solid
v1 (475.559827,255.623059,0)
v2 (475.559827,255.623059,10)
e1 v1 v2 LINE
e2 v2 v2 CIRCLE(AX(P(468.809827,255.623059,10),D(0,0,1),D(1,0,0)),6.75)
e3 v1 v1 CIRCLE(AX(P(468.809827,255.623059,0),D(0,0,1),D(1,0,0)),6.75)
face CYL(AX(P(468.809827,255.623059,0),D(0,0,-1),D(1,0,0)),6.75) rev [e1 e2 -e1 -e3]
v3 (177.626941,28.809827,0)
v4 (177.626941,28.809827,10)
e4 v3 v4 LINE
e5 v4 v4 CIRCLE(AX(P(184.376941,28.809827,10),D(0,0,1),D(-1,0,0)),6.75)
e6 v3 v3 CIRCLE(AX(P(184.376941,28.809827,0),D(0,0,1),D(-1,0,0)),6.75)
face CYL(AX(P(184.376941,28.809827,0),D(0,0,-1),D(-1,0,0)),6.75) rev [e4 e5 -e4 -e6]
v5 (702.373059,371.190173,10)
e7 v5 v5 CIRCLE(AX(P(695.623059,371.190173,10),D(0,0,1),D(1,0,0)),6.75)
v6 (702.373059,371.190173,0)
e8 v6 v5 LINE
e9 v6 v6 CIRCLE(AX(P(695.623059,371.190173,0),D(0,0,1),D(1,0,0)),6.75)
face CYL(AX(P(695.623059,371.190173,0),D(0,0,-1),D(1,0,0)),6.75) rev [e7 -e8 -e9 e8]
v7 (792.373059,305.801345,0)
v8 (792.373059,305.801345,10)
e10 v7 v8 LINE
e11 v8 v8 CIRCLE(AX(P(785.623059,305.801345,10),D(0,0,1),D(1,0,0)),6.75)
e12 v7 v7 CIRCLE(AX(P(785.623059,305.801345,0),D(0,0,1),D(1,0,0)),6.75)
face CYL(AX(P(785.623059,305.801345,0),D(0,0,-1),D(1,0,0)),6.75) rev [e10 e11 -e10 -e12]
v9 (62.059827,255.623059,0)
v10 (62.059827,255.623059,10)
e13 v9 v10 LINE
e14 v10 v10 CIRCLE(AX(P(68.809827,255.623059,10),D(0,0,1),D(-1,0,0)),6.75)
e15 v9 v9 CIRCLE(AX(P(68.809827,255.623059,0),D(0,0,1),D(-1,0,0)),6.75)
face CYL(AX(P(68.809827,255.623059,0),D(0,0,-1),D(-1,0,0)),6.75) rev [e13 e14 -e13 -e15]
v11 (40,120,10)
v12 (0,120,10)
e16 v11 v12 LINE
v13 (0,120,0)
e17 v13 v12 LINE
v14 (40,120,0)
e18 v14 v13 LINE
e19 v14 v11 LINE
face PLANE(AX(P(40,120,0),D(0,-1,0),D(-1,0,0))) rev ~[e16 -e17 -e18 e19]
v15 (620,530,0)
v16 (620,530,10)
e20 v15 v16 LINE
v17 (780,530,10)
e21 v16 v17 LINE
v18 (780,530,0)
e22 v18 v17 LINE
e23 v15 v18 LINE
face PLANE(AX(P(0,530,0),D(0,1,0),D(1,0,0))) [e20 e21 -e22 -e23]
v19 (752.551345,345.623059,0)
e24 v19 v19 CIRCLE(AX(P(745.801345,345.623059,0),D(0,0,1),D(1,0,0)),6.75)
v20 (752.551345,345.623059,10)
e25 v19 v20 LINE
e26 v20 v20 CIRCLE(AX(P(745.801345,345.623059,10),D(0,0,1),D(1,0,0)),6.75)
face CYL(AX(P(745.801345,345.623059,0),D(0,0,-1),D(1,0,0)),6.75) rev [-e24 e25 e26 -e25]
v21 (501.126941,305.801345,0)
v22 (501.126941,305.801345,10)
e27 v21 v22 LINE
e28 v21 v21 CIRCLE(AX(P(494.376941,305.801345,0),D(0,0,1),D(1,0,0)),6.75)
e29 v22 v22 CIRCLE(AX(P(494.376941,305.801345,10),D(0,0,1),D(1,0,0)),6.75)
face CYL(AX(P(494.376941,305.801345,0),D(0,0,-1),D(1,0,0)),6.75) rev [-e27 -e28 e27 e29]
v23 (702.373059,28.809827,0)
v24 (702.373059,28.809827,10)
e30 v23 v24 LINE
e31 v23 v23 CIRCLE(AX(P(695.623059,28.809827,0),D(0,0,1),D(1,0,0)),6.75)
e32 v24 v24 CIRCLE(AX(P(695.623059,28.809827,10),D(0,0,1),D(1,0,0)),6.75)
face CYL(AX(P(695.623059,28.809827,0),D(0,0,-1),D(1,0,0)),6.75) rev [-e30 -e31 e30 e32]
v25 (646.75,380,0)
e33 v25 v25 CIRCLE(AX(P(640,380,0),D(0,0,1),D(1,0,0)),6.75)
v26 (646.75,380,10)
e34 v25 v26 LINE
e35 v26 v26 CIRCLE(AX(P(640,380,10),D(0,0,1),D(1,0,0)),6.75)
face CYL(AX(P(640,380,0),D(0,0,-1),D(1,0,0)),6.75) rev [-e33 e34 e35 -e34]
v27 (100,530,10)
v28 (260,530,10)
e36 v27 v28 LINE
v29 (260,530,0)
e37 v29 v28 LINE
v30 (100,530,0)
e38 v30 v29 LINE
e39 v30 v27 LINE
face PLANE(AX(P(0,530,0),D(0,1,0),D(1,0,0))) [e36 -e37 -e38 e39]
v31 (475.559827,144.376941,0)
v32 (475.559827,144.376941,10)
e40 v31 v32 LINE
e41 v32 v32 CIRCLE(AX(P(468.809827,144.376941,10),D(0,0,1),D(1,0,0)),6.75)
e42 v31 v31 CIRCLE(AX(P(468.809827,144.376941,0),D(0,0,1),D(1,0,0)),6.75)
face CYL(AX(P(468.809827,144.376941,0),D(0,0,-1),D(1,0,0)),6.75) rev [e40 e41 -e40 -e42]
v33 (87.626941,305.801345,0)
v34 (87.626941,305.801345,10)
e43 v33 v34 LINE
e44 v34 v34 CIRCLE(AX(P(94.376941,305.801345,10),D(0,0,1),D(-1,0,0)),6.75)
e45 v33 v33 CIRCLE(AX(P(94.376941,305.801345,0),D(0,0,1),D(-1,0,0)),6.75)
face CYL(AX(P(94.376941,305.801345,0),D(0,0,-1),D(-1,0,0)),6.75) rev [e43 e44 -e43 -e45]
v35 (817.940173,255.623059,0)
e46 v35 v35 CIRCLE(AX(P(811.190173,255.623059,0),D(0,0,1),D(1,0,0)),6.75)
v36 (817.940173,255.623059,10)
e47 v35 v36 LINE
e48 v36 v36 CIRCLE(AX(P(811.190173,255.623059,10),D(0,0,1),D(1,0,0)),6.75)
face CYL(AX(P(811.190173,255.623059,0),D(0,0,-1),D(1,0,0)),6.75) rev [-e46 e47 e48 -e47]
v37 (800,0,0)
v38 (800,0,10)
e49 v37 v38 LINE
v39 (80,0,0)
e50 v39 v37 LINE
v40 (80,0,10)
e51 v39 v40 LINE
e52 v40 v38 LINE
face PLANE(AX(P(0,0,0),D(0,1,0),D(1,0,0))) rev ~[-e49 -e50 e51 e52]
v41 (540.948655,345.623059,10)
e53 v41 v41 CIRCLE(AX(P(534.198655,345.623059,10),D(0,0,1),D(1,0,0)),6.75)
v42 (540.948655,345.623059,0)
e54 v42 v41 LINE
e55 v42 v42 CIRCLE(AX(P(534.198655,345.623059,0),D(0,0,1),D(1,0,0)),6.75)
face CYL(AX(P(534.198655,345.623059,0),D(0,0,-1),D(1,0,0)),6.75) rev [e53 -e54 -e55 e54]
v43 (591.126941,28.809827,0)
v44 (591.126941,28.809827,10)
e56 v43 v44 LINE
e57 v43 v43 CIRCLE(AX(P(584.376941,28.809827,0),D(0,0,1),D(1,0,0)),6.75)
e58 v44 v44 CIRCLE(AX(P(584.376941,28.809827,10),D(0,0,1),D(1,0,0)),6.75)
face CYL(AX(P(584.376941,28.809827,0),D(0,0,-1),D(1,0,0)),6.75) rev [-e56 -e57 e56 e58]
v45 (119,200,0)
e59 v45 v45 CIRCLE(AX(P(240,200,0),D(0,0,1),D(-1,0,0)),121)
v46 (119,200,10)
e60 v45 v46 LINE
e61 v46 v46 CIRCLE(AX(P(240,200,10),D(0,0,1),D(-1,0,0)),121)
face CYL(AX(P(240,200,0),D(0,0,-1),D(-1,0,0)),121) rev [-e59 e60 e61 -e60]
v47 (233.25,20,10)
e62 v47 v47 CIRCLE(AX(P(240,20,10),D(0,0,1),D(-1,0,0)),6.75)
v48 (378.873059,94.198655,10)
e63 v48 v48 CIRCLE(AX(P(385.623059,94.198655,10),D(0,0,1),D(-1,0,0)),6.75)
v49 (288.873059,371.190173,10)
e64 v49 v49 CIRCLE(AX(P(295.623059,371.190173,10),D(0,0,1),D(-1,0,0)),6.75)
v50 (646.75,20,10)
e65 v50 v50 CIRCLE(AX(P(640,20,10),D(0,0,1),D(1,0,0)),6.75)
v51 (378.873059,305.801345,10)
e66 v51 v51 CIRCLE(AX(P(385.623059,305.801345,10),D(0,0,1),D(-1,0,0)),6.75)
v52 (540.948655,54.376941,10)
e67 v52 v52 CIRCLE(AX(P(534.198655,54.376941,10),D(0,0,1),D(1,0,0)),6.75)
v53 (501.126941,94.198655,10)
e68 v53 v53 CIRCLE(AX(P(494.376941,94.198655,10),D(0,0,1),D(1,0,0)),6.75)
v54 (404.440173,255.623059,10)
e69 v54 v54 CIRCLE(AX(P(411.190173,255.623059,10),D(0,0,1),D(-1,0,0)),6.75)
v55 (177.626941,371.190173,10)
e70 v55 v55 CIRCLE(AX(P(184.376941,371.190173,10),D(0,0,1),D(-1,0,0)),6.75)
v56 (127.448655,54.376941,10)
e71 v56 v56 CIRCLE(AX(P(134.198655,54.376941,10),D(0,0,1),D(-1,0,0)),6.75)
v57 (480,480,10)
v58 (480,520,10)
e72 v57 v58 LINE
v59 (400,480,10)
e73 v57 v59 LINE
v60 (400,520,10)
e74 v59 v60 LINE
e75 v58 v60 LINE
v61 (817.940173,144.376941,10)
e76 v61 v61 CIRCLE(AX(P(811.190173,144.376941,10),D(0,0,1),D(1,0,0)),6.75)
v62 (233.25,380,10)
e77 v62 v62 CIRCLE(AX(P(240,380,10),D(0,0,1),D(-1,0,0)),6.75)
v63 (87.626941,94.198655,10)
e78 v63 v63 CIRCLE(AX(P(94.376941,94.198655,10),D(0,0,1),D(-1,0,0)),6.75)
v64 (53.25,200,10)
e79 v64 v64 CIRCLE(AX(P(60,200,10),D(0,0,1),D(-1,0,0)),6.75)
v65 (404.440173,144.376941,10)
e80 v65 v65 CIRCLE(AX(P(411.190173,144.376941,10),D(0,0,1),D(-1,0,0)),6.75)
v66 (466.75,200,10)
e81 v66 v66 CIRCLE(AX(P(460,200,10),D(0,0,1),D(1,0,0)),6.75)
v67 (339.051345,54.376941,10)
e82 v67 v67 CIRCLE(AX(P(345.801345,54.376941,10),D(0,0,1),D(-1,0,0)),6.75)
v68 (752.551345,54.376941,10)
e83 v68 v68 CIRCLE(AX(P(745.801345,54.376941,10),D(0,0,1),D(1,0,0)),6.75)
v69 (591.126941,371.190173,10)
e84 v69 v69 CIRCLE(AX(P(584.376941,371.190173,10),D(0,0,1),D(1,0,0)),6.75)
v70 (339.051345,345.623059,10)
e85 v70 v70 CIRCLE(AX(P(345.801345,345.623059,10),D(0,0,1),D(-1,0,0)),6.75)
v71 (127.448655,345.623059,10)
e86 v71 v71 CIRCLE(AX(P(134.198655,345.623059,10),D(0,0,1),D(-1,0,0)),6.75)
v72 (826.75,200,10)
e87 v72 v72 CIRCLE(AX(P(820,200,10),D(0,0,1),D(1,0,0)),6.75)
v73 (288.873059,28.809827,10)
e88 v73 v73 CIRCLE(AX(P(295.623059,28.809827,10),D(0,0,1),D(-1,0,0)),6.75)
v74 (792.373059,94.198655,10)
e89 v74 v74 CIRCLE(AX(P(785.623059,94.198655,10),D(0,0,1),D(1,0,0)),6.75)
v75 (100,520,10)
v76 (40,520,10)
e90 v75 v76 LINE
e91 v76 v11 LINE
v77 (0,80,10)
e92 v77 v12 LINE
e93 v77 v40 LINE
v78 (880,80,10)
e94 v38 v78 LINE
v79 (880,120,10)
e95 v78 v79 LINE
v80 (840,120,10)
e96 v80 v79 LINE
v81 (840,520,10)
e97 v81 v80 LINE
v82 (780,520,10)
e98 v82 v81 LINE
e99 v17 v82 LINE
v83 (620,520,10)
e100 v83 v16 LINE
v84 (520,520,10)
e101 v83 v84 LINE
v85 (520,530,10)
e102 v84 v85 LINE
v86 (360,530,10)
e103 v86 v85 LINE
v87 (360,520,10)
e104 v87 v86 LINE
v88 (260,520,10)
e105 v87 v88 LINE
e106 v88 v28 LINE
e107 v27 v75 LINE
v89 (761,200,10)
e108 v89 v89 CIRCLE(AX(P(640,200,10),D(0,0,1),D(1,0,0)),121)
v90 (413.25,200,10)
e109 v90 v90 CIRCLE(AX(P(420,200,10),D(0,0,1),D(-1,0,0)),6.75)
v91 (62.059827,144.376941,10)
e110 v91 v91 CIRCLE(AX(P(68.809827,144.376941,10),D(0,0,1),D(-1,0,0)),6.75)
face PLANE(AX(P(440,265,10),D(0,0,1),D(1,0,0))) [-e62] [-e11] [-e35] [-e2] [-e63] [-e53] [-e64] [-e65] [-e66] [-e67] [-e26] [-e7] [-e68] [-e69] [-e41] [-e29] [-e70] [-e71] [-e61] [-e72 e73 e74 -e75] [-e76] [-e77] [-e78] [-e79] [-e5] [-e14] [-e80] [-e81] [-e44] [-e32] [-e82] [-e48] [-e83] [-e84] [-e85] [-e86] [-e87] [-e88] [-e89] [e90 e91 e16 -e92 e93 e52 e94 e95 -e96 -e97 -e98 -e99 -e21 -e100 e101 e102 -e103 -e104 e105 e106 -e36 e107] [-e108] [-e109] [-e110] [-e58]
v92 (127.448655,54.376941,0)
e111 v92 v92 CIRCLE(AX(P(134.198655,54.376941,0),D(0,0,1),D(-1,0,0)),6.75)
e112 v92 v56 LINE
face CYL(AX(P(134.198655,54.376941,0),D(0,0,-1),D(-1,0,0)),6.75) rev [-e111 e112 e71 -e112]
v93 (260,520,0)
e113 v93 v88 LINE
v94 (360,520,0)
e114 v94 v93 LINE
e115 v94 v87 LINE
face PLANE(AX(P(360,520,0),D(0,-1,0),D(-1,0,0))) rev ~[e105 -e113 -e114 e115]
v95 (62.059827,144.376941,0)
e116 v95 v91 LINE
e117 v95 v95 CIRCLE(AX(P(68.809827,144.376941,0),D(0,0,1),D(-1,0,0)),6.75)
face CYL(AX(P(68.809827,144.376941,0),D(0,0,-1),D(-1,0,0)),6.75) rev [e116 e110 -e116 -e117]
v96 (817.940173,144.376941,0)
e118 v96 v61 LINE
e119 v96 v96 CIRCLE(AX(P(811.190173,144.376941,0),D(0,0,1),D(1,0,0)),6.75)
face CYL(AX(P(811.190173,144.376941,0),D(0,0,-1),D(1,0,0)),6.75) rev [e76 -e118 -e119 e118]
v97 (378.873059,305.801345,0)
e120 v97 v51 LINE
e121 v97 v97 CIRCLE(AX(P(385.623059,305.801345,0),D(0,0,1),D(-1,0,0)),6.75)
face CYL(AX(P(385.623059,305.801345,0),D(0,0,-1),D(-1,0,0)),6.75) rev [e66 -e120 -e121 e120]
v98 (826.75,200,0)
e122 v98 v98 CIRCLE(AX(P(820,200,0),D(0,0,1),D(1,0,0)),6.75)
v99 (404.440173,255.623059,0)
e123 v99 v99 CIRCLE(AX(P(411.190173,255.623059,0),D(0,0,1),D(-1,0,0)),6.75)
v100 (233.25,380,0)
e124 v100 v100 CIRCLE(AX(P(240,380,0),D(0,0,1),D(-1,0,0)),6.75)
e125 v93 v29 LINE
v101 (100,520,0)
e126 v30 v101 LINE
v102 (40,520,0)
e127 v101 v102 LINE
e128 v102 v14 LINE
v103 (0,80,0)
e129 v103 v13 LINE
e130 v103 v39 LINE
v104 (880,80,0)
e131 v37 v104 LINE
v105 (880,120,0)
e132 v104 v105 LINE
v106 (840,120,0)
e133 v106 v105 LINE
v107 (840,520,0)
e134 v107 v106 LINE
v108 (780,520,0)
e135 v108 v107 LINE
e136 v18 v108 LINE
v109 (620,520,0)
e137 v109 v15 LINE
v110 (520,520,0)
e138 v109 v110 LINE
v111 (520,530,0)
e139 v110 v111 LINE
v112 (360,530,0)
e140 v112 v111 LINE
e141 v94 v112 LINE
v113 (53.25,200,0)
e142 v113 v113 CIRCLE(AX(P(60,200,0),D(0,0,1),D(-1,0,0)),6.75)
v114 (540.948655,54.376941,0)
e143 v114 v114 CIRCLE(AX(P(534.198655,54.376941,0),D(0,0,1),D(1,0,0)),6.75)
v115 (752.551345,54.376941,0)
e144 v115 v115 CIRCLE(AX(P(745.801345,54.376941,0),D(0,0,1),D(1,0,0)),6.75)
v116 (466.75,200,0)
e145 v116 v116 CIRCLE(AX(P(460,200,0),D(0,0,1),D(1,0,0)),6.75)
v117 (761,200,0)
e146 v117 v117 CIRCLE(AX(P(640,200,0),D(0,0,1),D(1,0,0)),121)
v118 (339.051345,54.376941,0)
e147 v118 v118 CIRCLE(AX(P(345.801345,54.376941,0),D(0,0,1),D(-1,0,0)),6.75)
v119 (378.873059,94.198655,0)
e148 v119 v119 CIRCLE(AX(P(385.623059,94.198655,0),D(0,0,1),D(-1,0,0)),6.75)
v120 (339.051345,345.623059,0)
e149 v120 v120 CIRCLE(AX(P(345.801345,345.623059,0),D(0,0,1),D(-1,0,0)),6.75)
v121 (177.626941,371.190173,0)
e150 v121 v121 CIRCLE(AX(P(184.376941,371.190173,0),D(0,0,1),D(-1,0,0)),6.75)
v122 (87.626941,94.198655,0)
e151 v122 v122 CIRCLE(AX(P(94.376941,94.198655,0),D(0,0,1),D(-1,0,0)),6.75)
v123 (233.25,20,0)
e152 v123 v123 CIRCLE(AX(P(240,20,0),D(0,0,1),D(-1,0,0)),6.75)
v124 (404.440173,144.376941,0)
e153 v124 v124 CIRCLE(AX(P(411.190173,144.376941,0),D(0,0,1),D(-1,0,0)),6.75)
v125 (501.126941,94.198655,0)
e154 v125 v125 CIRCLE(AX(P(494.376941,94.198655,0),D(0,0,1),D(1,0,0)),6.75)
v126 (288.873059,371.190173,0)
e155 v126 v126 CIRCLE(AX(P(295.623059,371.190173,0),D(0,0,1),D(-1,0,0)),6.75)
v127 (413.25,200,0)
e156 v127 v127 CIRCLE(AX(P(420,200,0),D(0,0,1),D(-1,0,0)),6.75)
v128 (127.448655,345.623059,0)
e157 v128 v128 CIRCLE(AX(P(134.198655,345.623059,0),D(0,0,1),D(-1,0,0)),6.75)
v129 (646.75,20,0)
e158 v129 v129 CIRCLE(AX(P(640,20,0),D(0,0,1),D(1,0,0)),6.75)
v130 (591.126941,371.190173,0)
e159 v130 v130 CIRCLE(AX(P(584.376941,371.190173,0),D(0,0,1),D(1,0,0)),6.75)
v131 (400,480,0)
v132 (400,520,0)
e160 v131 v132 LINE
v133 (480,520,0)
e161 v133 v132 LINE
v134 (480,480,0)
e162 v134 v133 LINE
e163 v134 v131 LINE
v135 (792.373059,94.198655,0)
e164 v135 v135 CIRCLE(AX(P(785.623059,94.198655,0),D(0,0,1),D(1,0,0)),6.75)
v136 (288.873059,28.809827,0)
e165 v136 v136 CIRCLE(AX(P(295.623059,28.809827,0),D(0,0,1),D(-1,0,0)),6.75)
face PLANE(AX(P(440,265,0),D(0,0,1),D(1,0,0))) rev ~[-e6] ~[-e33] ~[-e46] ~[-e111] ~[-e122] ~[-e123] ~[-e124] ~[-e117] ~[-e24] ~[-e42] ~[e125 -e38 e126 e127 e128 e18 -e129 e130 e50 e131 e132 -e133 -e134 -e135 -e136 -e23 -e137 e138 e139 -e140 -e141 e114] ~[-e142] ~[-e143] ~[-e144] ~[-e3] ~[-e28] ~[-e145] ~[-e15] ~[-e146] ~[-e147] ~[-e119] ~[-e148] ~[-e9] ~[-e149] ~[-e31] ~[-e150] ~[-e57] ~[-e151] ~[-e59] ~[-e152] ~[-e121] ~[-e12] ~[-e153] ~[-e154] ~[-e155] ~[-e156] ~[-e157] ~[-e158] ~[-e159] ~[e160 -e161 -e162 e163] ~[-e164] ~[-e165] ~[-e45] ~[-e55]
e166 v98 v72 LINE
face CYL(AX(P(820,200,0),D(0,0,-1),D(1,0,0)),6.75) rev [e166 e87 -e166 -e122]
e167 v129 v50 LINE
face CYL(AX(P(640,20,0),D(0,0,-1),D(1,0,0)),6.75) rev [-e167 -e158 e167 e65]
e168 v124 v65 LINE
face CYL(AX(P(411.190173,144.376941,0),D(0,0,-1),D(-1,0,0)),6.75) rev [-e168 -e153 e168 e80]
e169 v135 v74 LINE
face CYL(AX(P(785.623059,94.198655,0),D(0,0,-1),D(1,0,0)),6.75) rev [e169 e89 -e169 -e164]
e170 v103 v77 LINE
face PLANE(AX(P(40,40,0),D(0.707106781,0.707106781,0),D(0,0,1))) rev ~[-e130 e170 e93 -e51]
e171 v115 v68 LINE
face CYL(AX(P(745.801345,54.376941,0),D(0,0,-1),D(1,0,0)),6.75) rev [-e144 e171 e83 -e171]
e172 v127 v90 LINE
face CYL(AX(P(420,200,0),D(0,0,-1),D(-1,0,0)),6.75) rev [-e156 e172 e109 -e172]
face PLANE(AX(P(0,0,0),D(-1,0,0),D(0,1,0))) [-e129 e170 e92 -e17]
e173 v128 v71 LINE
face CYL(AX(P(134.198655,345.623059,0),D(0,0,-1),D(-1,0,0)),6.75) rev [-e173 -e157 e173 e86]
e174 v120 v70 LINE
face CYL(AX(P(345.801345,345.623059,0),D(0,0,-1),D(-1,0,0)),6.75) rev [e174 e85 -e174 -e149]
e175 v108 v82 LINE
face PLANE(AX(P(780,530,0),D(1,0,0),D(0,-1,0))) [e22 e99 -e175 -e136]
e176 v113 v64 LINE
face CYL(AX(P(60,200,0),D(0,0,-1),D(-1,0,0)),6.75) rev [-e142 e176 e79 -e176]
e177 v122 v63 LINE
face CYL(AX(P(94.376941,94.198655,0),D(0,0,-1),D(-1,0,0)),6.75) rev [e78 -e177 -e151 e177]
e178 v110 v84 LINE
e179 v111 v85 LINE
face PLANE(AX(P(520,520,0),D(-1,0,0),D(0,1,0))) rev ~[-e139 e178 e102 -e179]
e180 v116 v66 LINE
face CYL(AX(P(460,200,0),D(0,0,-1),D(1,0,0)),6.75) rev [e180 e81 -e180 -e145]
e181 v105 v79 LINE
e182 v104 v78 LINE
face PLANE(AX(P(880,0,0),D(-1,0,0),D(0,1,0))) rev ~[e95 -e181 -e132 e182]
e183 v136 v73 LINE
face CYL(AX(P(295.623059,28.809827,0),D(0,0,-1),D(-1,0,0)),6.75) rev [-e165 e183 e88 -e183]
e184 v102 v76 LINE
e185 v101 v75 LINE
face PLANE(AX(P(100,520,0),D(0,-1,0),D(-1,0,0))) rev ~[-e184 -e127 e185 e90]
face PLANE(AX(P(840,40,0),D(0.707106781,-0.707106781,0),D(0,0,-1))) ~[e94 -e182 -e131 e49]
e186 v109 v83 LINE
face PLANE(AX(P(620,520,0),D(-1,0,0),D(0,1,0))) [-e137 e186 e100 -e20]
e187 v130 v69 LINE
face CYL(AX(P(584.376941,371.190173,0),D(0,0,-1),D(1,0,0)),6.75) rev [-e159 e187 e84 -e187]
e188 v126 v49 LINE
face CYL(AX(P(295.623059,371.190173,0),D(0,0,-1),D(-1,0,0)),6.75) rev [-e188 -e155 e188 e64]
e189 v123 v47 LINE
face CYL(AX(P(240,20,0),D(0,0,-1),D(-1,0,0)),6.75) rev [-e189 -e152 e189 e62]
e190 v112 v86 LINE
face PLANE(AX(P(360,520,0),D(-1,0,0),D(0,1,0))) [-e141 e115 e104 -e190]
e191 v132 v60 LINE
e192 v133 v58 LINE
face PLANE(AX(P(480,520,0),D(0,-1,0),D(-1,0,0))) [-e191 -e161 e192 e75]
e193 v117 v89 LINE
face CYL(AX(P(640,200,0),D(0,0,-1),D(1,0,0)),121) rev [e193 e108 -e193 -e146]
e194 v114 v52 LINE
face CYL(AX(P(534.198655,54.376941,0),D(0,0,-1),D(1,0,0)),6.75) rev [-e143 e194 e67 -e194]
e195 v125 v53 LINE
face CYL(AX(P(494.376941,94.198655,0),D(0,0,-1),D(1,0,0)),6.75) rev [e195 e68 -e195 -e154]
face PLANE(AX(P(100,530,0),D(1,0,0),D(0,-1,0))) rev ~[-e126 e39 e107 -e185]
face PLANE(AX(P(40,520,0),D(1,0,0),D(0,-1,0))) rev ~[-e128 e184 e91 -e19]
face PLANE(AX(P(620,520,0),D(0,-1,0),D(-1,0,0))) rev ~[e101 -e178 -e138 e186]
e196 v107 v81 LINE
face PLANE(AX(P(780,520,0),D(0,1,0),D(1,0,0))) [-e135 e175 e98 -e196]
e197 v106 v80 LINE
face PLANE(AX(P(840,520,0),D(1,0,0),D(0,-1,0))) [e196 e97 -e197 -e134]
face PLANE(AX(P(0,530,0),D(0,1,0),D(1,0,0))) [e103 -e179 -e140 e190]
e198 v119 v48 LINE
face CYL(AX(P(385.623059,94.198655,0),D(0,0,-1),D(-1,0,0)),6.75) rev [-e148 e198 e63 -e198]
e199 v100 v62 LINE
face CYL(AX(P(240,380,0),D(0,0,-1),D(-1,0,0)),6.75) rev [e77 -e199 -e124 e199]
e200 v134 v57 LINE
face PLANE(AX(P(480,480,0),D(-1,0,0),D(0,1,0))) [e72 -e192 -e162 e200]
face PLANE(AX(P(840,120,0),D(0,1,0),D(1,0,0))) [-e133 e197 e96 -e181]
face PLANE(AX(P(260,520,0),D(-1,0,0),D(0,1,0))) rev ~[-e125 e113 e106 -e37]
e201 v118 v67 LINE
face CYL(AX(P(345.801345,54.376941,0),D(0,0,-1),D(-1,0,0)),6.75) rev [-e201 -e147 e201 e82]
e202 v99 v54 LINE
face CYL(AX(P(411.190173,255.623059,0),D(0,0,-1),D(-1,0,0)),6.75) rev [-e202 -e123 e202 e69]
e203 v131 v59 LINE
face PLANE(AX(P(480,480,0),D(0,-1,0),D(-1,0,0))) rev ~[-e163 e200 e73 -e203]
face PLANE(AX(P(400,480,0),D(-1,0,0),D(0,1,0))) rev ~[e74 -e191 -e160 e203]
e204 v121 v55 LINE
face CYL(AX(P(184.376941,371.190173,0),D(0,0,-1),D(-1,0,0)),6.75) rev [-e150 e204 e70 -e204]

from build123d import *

# Parameters (mm, degrees)
ESQUISSE1_W             = 880
ESQUISSE1_H             = 530
ESQUISSE1_R             = 121
ESQUISSE1_R_2           = 6.75
BOSS_EXTRU_1_DEPTH      = 10
CHANFREIN1_SIZE         = 80
ESQUISSE2_W             = 100
ESQUISSE2_H             = 10
ESQUISSE2_W_2           = 80
ESQUISSE2_H_2           = 40
ENL_V_MAT_EXTRU_1_DEPTH = 10


with BuildPart() as part:
    # Esquisse1 → Boss.-Extru.1 (new body)
    with BuildSketch(Plane.XY):
        with Locations((440, 265)):
            Rectangle(ESQUISSE1_W, ESQUISSE1_H)
        with Locations((640, 200)):
            Circle(ESQUISSE1_R, mode=Mode.SUBTRACT)
        with Locations((820, 200)):
            Circle(ESQUISSE1_R_2, mode=Mode.SUBTRACT)
        with Locations((811.190172933, 144.376941013)):
            Circle(ESQUISSE1_R_2, mode=Mode.SUBTRACT)
        with Locations((785.623058987, 94.198654587)):
            Circle(ESQUISSE1_R_2, mode=Mode.SUBTRACT)
        with Locations((745.801345413, 54.376941013)):
            Circle(ESQUISSE1_R_2, mode=Mode.SUBTRACT)
        with Locations((695.623058987, 28.809827067)):
            Circle(ESQUISSE1_R_2, mode=Mode.SUBTRACT)
        with Locations((640, 20)):
            Circle(ESQUISSE1_R_2, mode=Mode.SUBTRACT)
        with Locations((584.376941012, 28.809827067)):
            Circle(ESQUISSE1_R_2, mode=Mode.SUBTRACT)
        with Locations((534.198654587, 54.376941013)):
            Circle(ESQUISSE1_R_2, mode=Mode.SUBTRACT)
        with Locations((494.376941012, 94.198654587)):
            Circle(ESQUISSE1_R_2, mode=Mode.SUBTRACT)
        with Locations((468.809827067, 144.376941013)):
            Circle(ESQUISSE1_R_2, mode=Mode.SUBTRACT)
        with Locations((460, 200)):
            Circle(ESQUISSE1_R_2, mode=Mode.SUBTRACT)
        with Locations((468.809827067, 255.623058987)):
            Circle(ESQUISSE1_R_2, mode=Mode.SUBTRACT)
        with Locations((494.376941012, 305.801345413)):
            Circle(ESQUISSE1_R_2, mode=Mode.SUBTRACT)
        with Locations((534.198654587, 345.623058987)):
            Circle(ESQUISSE1_R_2, mode=Mode.SUBTRACT)
        with Locations((584.376941012, 371.190172933)):
            Circle(ESQUISSE1_R_2, mode=Mode.SUBTRACT)
        with Locations((640, 380)):
            Circle(ESQUISSE1_R_2, mode=Mode.SUBTRACT)
        with Locations((695.623058987, 371.190172933)):
            Circle(ESQUISSE1_R_2, mode=Mode.SUBTRACT)
        with Locations((745.801345413, 345.623058987)):
            Circle(ESQUISSE1_R_2, mode=Mode.SUBTRACT)
        with Locations((785.623058987, 305.801345413)):
            Circle(ESQUISSE1_R_2, mode=Mode.SUBTRACT)
        with Locations((811.190172933, 255.623058987)):
            Circle(ESQUISSE1_R_2, mode=Mode.SUBTRACT)
        with Locations(Location((68.809827067, 255.623058987, 0), (0, 0, 180))):
            Circle(ESQUISSE1_R_2, mode=Mode.SUBTRACT)
        with Locations(Location((94.376941013, 305.801345413, 0), (0, 0, 180))):
            Circle(ESQUISSE1_R_2, mode=Mode.SUBTRACT)
        with Locations(Location((134.198654587, 345.623058987, 0), (0, 0, 180))):
            Circle(ESQUISSE1_R_2, mode=Mode.SUBTRACT)
        with Locations(Location((184.376941013, 371.190172933, 0), (0, 0, 180))):
            Circle(ESQUISSE1_R_2, mode=Mode.SUBTRACT)
        with Locations(Location((240, 380, 0), (0, 0, 180))):
            Circle(ESQUISSE1_R_2, mode=Mode.SUBTRACT)
        with Locations(Location((295.623058987, 371.190172933, 0), (0, 0, 180))):
            Circle(ESQUISSE1_R_2, mode=Mode.SUBTRACT)
        with Locations(Location((345.801345413, 345.623058987, 0), (0, 0, 180))):
            Circle(ESQUISSE1_R_2, mode=Mode.SUBTRACT)
        with Locations(Location((385.623058987, 305.801345413, 0), (0, 0, 180))):
            Circle(ESQUISSE1_R_2, mode=Mode.SUBTRACT)
        with Locations(Location((411.190172933, 255.623058987, 0), (0, 0, 180))):
            Circle(ESQUISSE1_R_2, mode=Mode.SUBTRACT)
        with Locations(Location((420, 200, 0), (0, 0, 180))):
            Circle(ESQUISSE1_R_2, mode=Mode.SUBTRACT)
        with Locations(Location((411.190172933, 144.376941013, 0), (0, 0, 180))):
            Circle(ESQUISSE1_R_2, mode=Mode.SUBTRACT)
        with Locations(Location((385.623058987, 94.198654587, 0), (0, 0, 180))):
            Circle(ESQUISSE1_R_2, mode=Mode.SUBTRACT)
        with Locations(Location((345.801345413, 54.376941013, 0), (0, 0, 180))):
            Circle(ESQUISSE1_R_2, mode=Mode.SUBTRACT)
        with Locations(Location((295.623058987, 28.809827067, 0), (0, 0, 180))):
            Circle(ESQUISSE1_R_2, mode=Mode.SUBTRACT)
        with Locations(Location((240, 20, 0), (0, 0, 180))):
            Circle(ESQUISSE1_R_2, mode=Mode.SUBTRACT)
        with Locations(Location((184.376941013, 28.809827067, 0), (0, 0, 180))):
            Circle(ESQUISSE1_R_2, mode=Mode.SUBTRACT)
        with Locations(Location((134.198654587, 54.376941013, 0), (0, 0, 180))):
            Circle(ESQUISSE1_R_2, mode=Mode.SUBTRACT)
        with Locations(Location((94.376941013, 94.198654587, 0), (0, 0, 180))):
            Circle(ESQUISSE1_R_2, mode=Mode.SUBTRACT)
        with Locations(Location((68.809827067, 144.376941013, 0), (0, 0, 180))):
            Circle(ESQUISSE1_R_2, mode=Mode.SUBTRACT)
        with Locations(Location((60, 200, 0), (0, 0, 180))):
            Circle(ESQUISSE1_R_2, mode=Mode.SUBTRACT)
        with Locations(Location((240, 200, 0), (0, 0, 180))):
            Circle(ESQUISSE1_R, mode=Mode.SUBTRACT)
    extrude(amount=BOSS_EXTRU_1_DEPTH)

    # Chanfrein1
    chanfrein1_edges = [part.edges().sort_by_distance(p)[0] for p in [
        (880, 0, 5),
        (0, 0, 5),
    ]]
    chamfer(chanfrein1_edges, length=CHANFREIN1_SIZE)

    # Esquisse2 → Enlèv. mat.-Extru.1 (cut)
    with BuildSketch(Plane(origin=(0, 0, 0), x_dir=(-1, 0, 0), z_dir=(0, 0, -1))):
        Polygon((-880, 530), (-840, 530), (-780, 530), (-780, 520), (-840, 520), (-840, 120), (-880, 120), align=None)
        with Locations((-570, 525)):
            Rectangle(ESQUISSE2_W, ESQUISSE2_H)
        with Locations((-310, 525)):
            Rectangle(ESQUISSE2_W, ESQUISSE2_H)
        Polygon((-100, 530), (-100, 520), (-40, 520), (-40, 120), (0, 120), (0, 530), (-40, 530), align=None)
        with Locations((-440, 500)):
            Rectangle(ESQUISSE2_W_2, ESQUISSE2_H_2)
    extrude(amount=-ENL_V_MAT_EXTRU_1_DEPTH, mode=Mode.SUBTRACT)


solid = part.part
